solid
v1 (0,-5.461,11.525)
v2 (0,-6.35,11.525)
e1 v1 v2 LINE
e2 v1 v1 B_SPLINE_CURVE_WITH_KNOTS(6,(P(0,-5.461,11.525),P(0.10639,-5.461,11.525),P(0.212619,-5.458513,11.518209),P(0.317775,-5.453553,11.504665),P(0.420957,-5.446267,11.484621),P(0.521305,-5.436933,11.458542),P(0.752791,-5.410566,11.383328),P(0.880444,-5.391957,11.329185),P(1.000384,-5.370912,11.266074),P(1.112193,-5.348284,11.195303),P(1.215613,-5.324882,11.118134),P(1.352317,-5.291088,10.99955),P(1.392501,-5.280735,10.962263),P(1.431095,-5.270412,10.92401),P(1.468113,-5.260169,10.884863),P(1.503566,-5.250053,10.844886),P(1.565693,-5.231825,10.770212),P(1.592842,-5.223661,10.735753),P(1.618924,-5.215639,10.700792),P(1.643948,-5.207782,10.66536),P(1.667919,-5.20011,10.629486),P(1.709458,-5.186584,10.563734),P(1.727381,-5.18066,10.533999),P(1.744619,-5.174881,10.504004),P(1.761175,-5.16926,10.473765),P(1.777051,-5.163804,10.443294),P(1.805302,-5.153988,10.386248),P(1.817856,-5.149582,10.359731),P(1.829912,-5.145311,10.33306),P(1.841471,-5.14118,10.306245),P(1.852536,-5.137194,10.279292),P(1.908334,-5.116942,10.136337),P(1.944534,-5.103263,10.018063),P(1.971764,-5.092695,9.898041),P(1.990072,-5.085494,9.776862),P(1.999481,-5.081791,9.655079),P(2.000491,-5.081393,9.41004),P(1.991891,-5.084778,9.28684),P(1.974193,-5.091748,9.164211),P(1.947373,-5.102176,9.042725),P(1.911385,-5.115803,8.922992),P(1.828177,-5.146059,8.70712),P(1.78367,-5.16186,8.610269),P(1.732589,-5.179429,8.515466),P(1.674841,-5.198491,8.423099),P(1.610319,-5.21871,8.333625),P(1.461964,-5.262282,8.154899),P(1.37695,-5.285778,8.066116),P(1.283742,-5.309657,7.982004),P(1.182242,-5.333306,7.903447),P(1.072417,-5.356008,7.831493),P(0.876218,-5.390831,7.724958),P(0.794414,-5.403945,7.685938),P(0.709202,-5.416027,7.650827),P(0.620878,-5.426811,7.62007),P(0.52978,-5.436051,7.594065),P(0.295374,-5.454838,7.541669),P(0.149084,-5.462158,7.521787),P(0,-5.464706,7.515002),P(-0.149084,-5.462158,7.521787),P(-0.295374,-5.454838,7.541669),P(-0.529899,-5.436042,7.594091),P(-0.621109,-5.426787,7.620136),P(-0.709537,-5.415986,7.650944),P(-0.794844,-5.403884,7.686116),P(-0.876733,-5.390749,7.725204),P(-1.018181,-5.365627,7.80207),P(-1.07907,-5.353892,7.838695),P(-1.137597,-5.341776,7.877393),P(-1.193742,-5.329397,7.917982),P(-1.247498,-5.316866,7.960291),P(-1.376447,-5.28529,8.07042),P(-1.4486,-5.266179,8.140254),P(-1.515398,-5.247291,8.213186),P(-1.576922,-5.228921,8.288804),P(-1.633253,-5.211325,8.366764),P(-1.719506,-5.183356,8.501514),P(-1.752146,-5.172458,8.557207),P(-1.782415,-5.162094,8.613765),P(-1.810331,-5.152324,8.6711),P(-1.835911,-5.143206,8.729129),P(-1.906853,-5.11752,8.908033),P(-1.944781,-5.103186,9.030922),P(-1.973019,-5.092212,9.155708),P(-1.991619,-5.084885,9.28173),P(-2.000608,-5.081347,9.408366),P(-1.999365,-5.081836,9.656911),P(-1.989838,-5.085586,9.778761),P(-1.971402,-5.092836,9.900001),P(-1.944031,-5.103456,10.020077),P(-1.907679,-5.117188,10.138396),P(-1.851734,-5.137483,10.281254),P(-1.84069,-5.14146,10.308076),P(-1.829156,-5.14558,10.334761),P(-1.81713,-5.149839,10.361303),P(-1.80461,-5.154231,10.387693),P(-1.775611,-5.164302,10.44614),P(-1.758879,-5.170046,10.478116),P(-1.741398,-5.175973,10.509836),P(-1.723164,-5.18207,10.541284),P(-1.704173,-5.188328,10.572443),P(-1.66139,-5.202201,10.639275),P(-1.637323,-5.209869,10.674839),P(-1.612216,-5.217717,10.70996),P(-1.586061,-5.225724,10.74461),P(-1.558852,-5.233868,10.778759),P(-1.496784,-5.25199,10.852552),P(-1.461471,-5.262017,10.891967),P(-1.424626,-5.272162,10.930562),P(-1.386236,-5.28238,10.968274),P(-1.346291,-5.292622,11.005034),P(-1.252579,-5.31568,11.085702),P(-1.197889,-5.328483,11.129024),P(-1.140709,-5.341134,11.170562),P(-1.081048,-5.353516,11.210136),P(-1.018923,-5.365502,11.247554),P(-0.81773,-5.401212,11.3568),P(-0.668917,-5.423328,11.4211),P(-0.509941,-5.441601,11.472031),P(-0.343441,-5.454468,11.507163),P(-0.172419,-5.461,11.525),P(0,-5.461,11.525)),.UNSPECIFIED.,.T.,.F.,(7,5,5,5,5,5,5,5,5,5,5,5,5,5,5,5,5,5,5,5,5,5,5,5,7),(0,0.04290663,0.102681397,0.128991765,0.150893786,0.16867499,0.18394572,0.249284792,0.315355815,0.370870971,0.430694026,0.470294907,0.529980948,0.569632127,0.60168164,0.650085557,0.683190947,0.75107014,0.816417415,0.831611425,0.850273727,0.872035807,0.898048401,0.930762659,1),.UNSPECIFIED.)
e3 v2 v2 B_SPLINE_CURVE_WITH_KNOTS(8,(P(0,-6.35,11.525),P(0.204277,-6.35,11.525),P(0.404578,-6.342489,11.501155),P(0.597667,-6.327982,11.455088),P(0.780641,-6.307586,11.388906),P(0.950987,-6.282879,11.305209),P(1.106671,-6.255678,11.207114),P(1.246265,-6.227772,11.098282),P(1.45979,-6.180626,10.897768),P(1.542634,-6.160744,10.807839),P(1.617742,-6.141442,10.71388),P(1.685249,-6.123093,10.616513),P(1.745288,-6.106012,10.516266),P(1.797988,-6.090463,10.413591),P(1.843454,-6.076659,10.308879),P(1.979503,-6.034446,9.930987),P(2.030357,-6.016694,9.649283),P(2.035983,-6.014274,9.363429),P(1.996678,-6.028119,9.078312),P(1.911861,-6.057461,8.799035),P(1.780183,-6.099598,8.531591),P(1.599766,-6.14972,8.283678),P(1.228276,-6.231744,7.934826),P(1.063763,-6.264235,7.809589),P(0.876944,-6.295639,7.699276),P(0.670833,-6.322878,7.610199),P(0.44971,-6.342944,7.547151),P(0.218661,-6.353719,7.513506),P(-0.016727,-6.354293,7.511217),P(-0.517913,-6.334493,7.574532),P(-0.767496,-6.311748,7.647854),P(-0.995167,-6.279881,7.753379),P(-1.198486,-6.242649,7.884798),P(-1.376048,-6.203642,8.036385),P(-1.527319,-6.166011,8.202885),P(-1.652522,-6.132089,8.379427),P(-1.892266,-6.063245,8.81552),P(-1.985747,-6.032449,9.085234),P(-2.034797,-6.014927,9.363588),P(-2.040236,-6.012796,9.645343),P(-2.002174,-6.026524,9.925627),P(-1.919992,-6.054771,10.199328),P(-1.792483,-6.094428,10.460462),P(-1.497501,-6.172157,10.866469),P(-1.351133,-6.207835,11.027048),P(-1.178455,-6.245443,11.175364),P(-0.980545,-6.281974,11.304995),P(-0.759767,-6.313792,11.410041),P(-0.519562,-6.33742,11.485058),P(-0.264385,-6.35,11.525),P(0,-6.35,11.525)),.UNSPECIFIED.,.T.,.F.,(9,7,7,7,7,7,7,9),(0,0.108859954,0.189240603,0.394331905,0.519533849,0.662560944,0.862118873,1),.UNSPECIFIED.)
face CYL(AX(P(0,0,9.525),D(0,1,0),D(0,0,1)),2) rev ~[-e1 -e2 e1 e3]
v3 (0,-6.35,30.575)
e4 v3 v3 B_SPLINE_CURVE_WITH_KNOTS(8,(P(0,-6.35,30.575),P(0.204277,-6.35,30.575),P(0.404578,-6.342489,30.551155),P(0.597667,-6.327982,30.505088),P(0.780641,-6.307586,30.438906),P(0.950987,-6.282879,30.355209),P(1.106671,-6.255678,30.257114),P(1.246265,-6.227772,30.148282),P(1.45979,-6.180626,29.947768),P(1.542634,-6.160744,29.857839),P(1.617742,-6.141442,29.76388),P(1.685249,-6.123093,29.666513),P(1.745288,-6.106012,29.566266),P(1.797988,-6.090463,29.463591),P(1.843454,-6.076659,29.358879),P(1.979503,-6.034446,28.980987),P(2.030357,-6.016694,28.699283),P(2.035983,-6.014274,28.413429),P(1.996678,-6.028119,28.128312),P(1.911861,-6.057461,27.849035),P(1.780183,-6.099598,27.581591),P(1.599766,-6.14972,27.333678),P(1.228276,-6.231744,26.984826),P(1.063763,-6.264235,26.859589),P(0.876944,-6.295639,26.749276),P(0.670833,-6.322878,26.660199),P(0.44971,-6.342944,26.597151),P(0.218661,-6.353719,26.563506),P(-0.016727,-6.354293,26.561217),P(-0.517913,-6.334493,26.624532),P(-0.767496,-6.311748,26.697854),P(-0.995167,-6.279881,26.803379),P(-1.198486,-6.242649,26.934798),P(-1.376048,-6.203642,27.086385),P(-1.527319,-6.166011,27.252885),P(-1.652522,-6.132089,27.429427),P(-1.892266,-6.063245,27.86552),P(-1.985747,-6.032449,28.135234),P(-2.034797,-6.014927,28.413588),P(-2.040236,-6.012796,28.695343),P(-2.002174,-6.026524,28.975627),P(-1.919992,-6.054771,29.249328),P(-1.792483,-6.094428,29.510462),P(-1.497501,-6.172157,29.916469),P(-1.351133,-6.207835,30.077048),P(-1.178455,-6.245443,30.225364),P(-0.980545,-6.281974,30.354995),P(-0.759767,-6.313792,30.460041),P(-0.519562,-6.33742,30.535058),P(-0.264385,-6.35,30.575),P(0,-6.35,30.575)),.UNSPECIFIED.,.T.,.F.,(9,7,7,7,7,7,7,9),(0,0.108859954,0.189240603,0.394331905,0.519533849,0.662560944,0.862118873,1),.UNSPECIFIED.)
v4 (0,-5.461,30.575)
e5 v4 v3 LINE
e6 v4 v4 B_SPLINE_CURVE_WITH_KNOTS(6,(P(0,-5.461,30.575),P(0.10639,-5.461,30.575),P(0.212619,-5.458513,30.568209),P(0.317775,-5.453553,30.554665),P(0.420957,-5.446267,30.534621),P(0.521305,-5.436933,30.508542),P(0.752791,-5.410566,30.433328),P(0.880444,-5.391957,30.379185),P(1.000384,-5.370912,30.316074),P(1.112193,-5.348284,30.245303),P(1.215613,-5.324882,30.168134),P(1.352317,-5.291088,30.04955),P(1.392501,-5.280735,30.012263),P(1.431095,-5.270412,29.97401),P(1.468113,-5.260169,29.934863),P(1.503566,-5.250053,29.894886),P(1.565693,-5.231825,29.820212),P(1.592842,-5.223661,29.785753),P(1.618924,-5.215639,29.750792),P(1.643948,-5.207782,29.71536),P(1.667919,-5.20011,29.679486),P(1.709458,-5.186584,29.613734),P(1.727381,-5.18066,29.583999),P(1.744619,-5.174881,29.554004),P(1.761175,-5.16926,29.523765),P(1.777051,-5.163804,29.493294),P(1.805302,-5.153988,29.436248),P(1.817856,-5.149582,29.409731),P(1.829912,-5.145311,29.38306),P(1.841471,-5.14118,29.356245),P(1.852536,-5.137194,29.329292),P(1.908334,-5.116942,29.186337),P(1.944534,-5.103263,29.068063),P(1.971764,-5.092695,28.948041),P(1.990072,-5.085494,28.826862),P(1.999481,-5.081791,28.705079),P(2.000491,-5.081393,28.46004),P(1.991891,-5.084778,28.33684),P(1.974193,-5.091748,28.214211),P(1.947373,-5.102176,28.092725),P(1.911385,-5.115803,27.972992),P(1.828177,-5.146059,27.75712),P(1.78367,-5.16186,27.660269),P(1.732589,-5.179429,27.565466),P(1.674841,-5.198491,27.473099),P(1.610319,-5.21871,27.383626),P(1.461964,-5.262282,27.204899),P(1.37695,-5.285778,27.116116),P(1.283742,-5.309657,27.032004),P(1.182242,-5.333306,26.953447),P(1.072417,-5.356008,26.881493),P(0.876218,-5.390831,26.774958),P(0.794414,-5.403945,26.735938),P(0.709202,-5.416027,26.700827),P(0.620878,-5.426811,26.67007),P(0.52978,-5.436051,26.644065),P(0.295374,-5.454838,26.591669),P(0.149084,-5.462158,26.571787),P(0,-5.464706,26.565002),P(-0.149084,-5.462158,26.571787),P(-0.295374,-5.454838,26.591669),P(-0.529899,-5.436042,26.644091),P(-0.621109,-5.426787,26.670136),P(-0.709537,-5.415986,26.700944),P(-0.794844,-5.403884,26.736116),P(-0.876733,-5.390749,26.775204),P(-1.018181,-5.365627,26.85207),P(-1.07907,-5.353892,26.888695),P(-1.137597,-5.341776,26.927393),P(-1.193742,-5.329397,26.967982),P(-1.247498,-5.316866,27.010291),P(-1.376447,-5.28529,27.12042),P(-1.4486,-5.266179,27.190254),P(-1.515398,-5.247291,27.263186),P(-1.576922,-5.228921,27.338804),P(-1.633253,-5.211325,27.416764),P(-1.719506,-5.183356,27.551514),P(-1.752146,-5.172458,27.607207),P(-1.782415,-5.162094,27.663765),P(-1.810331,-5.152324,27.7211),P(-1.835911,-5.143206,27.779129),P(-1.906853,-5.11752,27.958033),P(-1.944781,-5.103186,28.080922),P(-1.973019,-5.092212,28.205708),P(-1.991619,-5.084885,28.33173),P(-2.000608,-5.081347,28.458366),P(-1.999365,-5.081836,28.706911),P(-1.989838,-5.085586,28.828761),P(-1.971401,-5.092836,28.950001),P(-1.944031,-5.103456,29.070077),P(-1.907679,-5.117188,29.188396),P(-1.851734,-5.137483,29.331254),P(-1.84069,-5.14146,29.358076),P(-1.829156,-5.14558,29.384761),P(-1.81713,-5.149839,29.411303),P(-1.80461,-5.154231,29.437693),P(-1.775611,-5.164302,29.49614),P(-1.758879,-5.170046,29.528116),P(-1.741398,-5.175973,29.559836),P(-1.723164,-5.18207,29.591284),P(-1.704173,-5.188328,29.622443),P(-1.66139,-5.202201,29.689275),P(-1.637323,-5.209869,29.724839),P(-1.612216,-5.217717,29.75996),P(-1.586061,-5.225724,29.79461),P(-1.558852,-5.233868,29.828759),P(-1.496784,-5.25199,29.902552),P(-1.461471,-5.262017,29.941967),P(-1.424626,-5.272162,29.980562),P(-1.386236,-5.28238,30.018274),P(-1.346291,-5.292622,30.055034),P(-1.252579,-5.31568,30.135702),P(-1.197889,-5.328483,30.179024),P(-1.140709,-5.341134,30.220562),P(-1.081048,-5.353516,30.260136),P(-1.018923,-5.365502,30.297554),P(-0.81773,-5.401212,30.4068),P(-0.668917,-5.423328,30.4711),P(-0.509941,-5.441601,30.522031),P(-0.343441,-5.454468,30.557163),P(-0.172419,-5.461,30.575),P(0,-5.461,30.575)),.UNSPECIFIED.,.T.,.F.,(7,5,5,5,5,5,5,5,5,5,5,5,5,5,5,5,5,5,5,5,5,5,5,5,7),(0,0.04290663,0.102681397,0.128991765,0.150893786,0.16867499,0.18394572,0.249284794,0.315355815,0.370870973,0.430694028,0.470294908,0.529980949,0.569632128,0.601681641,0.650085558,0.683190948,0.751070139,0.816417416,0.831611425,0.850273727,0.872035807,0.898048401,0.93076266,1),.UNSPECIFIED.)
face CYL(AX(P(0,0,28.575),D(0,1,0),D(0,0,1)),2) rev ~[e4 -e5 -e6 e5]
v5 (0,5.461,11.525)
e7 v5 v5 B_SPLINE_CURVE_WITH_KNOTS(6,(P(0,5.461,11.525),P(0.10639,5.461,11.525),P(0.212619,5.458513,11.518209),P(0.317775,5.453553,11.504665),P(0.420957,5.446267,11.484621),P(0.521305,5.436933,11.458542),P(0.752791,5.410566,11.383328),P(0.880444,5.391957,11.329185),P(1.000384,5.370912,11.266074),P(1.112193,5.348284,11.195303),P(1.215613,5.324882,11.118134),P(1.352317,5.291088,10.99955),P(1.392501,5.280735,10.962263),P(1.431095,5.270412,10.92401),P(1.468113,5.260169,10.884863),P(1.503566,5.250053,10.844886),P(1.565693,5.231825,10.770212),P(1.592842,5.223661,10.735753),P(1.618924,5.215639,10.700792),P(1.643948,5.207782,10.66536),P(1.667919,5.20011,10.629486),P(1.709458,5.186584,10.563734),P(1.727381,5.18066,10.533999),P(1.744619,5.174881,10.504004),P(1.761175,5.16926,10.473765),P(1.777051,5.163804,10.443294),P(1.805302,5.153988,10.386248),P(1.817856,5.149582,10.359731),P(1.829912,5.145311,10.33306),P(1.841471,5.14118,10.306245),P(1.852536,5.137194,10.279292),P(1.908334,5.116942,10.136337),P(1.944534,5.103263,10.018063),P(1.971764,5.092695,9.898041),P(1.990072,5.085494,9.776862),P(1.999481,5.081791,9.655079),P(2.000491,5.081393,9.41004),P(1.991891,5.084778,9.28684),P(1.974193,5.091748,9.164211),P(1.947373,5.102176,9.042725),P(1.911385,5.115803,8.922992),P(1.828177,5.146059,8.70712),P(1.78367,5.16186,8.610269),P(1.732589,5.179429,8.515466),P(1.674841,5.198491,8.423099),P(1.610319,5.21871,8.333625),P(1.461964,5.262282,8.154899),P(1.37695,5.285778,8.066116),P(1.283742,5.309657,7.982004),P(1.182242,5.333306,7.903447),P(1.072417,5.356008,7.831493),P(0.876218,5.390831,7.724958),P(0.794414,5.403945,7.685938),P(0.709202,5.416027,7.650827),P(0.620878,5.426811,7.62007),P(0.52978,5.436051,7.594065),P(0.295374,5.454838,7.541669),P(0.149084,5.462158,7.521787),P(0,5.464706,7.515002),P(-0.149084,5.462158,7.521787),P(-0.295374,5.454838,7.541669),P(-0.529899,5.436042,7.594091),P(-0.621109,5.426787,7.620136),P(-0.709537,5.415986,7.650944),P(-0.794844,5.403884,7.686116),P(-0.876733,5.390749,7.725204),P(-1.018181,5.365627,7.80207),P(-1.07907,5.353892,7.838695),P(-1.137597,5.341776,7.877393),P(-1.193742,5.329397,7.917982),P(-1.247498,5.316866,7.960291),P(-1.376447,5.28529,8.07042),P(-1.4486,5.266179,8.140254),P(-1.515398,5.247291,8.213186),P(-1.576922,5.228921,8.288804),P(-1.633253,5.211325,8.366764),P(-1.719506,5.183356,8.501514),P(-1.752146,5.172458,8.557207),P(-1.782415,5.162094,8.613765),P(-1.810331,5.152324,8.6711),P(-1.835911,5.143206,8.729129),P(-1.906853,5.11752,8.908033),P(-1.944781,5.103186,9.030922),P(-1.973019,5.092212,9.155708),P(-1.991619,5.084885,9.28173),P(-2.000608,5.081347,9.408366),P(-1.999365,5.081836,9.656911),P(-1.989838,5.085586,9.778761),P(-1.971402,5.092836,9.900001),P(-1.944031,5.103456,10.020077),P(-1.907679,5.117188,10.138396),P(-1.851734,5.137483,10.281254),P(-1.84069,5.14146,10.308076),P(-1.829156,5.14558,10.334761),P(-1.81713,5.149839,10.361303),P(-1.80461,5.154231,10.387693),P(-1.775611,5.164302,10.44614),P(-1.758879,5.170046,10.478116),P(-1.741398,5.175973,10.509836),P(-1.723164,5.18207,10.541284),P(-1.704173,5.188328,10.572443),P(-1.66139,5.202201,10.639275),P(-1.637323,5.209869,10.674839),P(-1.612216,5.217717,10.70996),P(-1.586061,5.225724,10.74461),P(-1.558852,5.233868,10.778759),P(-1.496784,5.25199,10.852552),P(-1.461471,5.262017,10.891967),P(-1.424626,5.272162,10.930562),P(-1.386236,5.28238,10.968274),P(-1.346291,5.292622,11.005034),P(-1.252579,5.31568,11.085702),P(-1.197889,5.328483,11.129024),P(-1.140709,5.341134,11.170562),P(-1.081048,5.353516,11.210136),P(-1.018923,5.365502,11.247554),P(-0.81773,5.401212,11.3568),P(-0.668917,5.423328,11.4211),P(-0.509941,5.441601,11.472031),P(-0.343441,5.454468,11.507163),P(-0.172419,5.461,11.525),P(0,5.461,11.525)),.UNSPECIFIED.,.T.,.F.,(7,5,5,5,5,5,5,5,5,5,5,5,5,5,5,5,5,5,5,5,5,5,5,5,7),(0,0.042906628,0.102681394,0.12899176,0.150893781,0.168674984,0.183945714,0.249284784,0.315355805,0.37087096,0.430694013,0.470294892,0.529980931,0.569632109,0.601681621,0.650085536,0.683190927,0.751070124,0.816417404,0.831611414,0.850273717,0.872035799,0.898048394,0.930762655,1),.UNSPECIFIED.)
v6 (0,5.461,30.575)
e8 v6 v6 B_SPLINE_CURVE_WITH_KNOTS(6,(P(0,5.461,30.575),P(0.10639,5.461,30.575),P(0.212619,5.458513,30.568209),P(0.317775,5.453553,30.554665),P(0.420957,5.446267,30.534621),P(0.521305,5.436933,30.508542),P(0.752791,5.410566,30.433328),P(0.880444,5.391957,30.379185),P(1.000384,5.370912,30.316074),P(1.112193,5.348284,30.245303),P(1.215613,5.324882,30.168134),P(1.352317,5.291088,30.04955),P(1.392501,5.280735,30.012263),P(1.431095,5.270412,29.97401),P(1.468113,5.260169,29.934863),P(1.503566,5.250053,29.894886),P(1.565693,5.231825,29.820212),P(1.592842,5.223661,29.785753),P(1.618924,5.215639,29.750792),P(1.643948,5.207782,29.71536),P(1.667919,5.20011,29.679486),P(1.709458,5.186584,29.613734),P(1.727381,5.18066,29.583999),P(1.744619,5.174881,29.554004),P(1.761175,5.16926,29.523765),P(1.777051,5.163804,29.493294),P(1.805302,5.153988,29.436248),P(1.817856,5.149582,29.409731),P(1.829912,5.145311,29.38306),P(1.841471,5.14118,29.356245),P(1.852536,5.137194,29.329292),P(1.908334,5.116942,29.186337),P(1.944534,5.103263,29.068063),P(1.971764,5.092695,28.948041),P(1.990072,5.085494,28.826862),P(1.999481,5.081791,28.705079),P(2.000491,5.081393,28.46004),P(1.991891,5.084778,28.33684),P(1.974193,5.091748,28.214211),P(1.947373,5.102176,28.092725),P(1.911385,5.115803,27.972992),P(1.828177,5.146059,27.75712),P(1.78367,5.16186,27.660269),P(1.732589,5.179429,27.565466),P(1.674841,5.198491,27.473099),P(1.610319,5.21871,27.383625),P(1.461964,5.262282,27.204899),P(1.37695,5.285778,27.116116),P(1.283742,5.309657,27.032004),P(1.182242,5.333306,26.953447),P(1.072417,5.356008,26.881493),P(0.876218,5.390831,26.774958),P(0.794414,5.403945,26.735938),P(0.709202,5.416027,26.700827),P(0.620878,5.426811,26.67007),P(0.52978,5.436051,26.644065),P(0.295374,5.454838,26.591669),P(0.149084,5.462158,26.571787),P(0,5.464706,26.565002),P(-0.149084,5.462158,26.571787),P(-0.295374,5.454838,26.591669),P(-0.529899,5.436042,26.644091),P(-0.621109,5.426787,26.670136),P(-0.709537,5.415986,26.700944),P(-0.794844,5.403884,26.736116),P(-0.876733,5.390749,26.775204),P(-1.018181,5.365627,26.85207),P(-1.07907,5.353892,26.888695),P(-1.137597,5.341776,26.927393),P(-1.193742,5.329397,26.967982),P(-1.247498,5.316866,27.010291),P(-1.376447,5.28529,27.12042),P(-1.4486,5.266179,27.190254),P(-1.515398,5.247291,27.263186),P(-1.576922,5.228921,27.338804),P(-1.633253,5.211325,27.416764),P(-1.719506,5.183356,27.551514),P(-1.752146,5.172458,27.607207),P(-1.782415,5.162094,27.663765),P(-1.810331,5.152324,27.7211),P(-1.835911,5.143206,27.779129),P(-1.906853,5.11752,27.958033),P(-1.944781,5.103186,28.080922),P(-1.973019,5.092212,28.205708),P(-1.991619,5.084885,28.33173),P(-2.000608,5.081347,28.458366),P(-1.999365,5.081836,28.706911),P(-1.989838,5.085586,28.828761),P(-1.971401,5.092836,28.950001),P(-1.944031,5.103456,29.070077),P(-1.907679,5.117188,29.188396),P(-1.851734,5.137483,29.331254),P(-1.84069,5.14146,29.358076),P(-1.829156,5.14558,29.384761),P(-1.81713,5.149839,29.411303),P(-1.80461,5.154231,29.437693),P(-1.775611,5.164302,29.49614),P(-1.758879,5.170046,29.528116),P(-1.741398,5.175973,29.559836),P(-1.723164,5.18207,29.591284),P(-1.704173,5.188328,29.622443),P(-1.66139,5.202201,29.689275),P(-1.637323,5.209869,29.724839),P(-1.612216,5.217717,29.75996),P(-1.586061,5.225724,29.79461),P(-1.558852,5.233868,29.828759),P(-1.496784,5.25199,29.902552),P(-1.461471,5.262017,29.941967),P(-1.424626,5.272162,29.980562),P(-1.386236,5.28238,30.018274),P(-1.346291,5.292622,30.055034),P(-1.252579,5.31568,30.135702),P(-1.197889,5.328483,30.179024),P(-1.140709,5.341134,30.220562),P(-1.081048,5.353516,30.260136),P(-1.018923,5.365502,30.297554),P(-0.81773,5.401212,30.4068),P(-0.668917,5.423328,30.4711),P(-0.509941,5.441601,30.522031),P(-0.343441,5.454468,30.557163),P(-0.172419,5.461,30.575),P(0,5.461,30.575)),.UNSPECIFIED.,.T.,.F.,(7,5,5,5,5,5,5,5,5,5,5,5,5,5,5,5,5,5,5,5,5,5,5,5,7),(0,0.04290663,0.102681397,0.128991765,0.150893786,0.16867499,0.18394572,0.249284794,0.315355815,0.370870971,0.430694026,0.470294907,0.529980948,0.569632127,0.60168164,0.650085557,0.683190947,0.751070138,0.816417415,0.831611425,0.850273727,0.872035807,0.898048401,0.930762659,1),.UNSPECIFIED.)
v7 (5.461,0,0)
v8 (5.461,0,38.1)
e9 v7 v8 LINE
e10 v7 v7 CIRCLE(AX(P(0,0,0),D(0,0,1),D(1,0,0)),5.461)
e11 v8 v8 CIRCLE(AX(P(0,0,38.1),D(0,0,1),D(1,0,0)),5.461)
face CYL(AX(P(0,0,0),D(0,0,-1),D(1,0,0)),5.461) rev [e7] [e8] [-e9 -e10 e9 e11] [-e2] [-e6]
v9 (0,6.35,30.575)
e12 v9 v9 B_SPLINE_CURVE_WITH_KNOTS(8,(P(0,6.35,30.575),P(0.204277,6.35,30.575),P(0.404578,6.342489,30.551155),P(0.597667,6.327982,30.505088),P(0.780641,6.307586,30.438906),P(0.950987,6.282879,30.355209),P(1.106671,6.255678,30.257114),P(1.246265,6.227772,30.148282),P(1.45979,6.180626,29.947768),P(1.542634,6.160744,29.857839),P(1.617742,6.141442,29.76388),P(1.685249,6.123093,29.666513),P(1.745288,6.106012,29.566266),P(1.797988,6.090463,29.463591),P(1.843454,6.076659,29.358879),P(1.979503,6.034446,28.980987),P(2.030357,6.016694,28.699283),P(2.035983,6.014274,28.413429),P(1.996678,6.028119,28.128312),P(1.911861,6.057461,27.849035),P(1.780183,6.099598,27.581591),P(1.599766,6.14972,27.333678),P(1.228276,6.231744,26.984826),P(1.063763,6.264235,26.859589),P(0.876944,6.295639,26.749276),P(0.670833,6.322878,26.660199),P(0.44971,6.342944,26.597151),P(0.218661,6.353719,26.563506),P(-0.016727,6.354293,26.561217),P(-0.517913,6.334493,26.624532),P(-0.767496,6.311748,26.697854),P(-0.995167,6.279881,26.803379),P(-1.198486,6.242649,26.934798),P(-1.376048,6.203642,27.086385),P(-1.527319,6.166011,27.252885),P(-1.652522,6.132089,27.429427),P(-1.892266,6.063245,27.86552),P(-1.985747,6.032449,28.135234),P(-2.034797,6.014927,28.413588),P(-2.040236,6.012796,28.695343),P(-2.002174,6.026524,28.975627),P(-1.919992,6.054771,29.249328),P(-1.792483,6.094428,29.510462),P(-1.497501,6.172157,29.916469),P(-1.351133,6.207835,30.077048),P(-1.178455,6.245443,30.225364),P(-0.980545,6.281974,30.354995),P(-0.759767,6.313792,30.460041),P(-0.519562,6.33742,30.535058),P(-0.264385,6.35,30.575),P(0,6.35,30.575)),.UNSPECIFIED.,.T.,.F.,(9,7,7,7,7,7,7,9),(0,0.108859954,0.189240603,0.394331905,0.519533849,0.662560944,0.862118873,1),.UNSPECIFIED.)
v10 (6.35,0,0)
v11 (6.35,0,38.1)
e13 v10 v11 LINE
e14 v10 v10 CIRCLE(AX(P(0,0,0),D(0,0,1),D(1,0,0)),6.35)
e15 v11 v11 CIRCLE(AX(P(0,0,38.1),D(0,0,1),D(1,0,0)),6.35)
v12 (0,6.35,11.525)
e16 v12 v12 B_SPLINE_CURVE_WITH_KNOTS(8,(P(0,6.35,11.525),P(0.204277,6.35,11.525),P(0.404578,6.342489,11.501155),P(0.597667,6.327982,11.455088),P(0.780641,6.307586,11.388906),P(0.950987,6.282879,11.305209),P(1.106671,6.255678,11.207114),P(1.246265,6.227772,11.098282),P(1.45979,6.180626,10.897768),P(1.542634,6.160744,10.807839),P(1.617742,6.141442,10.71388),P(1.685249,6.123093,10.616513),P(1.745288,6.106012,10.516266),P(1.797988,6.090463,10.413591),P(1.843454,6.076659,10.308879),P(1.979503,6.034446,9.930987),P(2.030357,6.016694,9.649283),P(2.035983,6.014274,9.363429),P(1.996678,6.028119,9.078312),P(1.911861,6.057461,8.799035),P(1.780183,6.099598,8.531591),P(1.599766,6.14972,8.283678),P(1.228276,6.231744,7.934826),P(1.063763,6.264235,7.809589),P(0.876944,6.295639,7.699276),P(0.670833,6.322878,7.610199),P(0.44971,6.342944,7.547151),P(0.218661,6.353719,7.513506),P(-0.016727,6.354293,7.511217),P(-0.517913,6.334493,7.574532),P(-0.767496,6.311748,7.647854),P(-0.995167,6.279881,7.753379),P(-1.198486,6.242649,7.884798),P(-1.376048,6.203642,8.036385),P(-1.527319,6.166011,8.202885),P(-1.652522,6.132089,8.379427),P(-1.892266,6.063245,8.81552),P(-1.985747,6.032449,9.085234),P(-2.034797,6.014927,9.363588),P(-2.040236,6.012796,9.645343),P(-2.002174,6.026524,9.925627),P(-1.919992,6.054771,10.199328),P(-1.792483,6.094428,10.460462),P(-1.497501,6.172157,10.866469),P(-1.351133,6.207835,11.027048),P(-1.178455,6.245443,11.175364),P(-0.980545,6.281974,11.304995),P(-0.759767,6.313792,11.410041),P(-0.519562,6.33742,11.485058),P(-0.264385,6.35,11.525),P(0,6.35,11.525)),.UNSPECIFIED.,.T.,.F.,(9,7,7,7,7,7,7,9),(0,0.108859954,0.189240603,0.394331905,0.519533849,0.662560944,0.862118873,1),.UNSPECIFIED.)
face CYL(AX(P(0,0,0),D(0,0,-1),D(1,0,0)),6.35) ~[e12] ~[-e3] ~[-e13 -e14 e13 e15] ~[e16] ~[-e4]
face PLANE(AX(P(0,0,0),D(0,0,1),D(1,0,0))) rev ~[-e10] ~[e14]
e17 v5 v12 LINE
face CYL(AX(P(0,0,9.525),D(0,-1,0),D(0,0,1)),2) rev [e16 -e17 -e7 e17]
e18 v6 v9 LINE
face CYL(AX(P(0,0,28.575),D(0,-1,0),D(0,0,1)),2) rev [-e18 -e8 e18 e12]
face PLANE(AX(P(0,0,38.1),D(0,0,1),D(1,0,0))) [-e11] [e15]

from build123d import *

# Parameters (mm, degrees)
SKETCH1_R               = 6.35
SKETCH1_R_2             = 5.461
EXTRUDE1_DEPTH          = 38.1
SKETCH2_R               = 2
CUT_EXTRUDE1_DEPTH      = 38.1
CUT_EXTRUDE1_DEPTH_BACK = 38.1


with BuildPart() as part:
    # Sketch1 → Extrude1 (new body)
    with BuildSketch(Plane.XY):
        Circle(SKETCH1_R)
        Circle(SKETCH1_R_2, mode=Mode.SUBTRACT)
    extrude(amount=EXTRUDE1_DEPTH)

    # Sketch2 → Cut-Extrude1 (cut, two sides)
    with BuildSketch(Plane(origin=(0, 0, 0), x_dir=(1, 0, 0), z_dir=(0, 1, 0))) as cut_extrude1_sk:
        with Locations(Location((0, -9.525, 0), (0, 0, 270))):  # turned: the seam where the file's is
            Circle(SKETCH2_R)
        with Locations(Location((0, -28.575, 0), (0, 0, 270))):  # turned: the seam where the file's is
            Circle(SKETCH2_R)
    extrude(amount=CUT_EXTRUDE1_DEPTH, mode=Mode.SUBTRACT)
    extrude(cut_extrude1_sk.sketch, amount=-CUT_EXTRUDE1_DEPTH_BACK, mode=Mode.SUBTRACT)


solid = part.part
